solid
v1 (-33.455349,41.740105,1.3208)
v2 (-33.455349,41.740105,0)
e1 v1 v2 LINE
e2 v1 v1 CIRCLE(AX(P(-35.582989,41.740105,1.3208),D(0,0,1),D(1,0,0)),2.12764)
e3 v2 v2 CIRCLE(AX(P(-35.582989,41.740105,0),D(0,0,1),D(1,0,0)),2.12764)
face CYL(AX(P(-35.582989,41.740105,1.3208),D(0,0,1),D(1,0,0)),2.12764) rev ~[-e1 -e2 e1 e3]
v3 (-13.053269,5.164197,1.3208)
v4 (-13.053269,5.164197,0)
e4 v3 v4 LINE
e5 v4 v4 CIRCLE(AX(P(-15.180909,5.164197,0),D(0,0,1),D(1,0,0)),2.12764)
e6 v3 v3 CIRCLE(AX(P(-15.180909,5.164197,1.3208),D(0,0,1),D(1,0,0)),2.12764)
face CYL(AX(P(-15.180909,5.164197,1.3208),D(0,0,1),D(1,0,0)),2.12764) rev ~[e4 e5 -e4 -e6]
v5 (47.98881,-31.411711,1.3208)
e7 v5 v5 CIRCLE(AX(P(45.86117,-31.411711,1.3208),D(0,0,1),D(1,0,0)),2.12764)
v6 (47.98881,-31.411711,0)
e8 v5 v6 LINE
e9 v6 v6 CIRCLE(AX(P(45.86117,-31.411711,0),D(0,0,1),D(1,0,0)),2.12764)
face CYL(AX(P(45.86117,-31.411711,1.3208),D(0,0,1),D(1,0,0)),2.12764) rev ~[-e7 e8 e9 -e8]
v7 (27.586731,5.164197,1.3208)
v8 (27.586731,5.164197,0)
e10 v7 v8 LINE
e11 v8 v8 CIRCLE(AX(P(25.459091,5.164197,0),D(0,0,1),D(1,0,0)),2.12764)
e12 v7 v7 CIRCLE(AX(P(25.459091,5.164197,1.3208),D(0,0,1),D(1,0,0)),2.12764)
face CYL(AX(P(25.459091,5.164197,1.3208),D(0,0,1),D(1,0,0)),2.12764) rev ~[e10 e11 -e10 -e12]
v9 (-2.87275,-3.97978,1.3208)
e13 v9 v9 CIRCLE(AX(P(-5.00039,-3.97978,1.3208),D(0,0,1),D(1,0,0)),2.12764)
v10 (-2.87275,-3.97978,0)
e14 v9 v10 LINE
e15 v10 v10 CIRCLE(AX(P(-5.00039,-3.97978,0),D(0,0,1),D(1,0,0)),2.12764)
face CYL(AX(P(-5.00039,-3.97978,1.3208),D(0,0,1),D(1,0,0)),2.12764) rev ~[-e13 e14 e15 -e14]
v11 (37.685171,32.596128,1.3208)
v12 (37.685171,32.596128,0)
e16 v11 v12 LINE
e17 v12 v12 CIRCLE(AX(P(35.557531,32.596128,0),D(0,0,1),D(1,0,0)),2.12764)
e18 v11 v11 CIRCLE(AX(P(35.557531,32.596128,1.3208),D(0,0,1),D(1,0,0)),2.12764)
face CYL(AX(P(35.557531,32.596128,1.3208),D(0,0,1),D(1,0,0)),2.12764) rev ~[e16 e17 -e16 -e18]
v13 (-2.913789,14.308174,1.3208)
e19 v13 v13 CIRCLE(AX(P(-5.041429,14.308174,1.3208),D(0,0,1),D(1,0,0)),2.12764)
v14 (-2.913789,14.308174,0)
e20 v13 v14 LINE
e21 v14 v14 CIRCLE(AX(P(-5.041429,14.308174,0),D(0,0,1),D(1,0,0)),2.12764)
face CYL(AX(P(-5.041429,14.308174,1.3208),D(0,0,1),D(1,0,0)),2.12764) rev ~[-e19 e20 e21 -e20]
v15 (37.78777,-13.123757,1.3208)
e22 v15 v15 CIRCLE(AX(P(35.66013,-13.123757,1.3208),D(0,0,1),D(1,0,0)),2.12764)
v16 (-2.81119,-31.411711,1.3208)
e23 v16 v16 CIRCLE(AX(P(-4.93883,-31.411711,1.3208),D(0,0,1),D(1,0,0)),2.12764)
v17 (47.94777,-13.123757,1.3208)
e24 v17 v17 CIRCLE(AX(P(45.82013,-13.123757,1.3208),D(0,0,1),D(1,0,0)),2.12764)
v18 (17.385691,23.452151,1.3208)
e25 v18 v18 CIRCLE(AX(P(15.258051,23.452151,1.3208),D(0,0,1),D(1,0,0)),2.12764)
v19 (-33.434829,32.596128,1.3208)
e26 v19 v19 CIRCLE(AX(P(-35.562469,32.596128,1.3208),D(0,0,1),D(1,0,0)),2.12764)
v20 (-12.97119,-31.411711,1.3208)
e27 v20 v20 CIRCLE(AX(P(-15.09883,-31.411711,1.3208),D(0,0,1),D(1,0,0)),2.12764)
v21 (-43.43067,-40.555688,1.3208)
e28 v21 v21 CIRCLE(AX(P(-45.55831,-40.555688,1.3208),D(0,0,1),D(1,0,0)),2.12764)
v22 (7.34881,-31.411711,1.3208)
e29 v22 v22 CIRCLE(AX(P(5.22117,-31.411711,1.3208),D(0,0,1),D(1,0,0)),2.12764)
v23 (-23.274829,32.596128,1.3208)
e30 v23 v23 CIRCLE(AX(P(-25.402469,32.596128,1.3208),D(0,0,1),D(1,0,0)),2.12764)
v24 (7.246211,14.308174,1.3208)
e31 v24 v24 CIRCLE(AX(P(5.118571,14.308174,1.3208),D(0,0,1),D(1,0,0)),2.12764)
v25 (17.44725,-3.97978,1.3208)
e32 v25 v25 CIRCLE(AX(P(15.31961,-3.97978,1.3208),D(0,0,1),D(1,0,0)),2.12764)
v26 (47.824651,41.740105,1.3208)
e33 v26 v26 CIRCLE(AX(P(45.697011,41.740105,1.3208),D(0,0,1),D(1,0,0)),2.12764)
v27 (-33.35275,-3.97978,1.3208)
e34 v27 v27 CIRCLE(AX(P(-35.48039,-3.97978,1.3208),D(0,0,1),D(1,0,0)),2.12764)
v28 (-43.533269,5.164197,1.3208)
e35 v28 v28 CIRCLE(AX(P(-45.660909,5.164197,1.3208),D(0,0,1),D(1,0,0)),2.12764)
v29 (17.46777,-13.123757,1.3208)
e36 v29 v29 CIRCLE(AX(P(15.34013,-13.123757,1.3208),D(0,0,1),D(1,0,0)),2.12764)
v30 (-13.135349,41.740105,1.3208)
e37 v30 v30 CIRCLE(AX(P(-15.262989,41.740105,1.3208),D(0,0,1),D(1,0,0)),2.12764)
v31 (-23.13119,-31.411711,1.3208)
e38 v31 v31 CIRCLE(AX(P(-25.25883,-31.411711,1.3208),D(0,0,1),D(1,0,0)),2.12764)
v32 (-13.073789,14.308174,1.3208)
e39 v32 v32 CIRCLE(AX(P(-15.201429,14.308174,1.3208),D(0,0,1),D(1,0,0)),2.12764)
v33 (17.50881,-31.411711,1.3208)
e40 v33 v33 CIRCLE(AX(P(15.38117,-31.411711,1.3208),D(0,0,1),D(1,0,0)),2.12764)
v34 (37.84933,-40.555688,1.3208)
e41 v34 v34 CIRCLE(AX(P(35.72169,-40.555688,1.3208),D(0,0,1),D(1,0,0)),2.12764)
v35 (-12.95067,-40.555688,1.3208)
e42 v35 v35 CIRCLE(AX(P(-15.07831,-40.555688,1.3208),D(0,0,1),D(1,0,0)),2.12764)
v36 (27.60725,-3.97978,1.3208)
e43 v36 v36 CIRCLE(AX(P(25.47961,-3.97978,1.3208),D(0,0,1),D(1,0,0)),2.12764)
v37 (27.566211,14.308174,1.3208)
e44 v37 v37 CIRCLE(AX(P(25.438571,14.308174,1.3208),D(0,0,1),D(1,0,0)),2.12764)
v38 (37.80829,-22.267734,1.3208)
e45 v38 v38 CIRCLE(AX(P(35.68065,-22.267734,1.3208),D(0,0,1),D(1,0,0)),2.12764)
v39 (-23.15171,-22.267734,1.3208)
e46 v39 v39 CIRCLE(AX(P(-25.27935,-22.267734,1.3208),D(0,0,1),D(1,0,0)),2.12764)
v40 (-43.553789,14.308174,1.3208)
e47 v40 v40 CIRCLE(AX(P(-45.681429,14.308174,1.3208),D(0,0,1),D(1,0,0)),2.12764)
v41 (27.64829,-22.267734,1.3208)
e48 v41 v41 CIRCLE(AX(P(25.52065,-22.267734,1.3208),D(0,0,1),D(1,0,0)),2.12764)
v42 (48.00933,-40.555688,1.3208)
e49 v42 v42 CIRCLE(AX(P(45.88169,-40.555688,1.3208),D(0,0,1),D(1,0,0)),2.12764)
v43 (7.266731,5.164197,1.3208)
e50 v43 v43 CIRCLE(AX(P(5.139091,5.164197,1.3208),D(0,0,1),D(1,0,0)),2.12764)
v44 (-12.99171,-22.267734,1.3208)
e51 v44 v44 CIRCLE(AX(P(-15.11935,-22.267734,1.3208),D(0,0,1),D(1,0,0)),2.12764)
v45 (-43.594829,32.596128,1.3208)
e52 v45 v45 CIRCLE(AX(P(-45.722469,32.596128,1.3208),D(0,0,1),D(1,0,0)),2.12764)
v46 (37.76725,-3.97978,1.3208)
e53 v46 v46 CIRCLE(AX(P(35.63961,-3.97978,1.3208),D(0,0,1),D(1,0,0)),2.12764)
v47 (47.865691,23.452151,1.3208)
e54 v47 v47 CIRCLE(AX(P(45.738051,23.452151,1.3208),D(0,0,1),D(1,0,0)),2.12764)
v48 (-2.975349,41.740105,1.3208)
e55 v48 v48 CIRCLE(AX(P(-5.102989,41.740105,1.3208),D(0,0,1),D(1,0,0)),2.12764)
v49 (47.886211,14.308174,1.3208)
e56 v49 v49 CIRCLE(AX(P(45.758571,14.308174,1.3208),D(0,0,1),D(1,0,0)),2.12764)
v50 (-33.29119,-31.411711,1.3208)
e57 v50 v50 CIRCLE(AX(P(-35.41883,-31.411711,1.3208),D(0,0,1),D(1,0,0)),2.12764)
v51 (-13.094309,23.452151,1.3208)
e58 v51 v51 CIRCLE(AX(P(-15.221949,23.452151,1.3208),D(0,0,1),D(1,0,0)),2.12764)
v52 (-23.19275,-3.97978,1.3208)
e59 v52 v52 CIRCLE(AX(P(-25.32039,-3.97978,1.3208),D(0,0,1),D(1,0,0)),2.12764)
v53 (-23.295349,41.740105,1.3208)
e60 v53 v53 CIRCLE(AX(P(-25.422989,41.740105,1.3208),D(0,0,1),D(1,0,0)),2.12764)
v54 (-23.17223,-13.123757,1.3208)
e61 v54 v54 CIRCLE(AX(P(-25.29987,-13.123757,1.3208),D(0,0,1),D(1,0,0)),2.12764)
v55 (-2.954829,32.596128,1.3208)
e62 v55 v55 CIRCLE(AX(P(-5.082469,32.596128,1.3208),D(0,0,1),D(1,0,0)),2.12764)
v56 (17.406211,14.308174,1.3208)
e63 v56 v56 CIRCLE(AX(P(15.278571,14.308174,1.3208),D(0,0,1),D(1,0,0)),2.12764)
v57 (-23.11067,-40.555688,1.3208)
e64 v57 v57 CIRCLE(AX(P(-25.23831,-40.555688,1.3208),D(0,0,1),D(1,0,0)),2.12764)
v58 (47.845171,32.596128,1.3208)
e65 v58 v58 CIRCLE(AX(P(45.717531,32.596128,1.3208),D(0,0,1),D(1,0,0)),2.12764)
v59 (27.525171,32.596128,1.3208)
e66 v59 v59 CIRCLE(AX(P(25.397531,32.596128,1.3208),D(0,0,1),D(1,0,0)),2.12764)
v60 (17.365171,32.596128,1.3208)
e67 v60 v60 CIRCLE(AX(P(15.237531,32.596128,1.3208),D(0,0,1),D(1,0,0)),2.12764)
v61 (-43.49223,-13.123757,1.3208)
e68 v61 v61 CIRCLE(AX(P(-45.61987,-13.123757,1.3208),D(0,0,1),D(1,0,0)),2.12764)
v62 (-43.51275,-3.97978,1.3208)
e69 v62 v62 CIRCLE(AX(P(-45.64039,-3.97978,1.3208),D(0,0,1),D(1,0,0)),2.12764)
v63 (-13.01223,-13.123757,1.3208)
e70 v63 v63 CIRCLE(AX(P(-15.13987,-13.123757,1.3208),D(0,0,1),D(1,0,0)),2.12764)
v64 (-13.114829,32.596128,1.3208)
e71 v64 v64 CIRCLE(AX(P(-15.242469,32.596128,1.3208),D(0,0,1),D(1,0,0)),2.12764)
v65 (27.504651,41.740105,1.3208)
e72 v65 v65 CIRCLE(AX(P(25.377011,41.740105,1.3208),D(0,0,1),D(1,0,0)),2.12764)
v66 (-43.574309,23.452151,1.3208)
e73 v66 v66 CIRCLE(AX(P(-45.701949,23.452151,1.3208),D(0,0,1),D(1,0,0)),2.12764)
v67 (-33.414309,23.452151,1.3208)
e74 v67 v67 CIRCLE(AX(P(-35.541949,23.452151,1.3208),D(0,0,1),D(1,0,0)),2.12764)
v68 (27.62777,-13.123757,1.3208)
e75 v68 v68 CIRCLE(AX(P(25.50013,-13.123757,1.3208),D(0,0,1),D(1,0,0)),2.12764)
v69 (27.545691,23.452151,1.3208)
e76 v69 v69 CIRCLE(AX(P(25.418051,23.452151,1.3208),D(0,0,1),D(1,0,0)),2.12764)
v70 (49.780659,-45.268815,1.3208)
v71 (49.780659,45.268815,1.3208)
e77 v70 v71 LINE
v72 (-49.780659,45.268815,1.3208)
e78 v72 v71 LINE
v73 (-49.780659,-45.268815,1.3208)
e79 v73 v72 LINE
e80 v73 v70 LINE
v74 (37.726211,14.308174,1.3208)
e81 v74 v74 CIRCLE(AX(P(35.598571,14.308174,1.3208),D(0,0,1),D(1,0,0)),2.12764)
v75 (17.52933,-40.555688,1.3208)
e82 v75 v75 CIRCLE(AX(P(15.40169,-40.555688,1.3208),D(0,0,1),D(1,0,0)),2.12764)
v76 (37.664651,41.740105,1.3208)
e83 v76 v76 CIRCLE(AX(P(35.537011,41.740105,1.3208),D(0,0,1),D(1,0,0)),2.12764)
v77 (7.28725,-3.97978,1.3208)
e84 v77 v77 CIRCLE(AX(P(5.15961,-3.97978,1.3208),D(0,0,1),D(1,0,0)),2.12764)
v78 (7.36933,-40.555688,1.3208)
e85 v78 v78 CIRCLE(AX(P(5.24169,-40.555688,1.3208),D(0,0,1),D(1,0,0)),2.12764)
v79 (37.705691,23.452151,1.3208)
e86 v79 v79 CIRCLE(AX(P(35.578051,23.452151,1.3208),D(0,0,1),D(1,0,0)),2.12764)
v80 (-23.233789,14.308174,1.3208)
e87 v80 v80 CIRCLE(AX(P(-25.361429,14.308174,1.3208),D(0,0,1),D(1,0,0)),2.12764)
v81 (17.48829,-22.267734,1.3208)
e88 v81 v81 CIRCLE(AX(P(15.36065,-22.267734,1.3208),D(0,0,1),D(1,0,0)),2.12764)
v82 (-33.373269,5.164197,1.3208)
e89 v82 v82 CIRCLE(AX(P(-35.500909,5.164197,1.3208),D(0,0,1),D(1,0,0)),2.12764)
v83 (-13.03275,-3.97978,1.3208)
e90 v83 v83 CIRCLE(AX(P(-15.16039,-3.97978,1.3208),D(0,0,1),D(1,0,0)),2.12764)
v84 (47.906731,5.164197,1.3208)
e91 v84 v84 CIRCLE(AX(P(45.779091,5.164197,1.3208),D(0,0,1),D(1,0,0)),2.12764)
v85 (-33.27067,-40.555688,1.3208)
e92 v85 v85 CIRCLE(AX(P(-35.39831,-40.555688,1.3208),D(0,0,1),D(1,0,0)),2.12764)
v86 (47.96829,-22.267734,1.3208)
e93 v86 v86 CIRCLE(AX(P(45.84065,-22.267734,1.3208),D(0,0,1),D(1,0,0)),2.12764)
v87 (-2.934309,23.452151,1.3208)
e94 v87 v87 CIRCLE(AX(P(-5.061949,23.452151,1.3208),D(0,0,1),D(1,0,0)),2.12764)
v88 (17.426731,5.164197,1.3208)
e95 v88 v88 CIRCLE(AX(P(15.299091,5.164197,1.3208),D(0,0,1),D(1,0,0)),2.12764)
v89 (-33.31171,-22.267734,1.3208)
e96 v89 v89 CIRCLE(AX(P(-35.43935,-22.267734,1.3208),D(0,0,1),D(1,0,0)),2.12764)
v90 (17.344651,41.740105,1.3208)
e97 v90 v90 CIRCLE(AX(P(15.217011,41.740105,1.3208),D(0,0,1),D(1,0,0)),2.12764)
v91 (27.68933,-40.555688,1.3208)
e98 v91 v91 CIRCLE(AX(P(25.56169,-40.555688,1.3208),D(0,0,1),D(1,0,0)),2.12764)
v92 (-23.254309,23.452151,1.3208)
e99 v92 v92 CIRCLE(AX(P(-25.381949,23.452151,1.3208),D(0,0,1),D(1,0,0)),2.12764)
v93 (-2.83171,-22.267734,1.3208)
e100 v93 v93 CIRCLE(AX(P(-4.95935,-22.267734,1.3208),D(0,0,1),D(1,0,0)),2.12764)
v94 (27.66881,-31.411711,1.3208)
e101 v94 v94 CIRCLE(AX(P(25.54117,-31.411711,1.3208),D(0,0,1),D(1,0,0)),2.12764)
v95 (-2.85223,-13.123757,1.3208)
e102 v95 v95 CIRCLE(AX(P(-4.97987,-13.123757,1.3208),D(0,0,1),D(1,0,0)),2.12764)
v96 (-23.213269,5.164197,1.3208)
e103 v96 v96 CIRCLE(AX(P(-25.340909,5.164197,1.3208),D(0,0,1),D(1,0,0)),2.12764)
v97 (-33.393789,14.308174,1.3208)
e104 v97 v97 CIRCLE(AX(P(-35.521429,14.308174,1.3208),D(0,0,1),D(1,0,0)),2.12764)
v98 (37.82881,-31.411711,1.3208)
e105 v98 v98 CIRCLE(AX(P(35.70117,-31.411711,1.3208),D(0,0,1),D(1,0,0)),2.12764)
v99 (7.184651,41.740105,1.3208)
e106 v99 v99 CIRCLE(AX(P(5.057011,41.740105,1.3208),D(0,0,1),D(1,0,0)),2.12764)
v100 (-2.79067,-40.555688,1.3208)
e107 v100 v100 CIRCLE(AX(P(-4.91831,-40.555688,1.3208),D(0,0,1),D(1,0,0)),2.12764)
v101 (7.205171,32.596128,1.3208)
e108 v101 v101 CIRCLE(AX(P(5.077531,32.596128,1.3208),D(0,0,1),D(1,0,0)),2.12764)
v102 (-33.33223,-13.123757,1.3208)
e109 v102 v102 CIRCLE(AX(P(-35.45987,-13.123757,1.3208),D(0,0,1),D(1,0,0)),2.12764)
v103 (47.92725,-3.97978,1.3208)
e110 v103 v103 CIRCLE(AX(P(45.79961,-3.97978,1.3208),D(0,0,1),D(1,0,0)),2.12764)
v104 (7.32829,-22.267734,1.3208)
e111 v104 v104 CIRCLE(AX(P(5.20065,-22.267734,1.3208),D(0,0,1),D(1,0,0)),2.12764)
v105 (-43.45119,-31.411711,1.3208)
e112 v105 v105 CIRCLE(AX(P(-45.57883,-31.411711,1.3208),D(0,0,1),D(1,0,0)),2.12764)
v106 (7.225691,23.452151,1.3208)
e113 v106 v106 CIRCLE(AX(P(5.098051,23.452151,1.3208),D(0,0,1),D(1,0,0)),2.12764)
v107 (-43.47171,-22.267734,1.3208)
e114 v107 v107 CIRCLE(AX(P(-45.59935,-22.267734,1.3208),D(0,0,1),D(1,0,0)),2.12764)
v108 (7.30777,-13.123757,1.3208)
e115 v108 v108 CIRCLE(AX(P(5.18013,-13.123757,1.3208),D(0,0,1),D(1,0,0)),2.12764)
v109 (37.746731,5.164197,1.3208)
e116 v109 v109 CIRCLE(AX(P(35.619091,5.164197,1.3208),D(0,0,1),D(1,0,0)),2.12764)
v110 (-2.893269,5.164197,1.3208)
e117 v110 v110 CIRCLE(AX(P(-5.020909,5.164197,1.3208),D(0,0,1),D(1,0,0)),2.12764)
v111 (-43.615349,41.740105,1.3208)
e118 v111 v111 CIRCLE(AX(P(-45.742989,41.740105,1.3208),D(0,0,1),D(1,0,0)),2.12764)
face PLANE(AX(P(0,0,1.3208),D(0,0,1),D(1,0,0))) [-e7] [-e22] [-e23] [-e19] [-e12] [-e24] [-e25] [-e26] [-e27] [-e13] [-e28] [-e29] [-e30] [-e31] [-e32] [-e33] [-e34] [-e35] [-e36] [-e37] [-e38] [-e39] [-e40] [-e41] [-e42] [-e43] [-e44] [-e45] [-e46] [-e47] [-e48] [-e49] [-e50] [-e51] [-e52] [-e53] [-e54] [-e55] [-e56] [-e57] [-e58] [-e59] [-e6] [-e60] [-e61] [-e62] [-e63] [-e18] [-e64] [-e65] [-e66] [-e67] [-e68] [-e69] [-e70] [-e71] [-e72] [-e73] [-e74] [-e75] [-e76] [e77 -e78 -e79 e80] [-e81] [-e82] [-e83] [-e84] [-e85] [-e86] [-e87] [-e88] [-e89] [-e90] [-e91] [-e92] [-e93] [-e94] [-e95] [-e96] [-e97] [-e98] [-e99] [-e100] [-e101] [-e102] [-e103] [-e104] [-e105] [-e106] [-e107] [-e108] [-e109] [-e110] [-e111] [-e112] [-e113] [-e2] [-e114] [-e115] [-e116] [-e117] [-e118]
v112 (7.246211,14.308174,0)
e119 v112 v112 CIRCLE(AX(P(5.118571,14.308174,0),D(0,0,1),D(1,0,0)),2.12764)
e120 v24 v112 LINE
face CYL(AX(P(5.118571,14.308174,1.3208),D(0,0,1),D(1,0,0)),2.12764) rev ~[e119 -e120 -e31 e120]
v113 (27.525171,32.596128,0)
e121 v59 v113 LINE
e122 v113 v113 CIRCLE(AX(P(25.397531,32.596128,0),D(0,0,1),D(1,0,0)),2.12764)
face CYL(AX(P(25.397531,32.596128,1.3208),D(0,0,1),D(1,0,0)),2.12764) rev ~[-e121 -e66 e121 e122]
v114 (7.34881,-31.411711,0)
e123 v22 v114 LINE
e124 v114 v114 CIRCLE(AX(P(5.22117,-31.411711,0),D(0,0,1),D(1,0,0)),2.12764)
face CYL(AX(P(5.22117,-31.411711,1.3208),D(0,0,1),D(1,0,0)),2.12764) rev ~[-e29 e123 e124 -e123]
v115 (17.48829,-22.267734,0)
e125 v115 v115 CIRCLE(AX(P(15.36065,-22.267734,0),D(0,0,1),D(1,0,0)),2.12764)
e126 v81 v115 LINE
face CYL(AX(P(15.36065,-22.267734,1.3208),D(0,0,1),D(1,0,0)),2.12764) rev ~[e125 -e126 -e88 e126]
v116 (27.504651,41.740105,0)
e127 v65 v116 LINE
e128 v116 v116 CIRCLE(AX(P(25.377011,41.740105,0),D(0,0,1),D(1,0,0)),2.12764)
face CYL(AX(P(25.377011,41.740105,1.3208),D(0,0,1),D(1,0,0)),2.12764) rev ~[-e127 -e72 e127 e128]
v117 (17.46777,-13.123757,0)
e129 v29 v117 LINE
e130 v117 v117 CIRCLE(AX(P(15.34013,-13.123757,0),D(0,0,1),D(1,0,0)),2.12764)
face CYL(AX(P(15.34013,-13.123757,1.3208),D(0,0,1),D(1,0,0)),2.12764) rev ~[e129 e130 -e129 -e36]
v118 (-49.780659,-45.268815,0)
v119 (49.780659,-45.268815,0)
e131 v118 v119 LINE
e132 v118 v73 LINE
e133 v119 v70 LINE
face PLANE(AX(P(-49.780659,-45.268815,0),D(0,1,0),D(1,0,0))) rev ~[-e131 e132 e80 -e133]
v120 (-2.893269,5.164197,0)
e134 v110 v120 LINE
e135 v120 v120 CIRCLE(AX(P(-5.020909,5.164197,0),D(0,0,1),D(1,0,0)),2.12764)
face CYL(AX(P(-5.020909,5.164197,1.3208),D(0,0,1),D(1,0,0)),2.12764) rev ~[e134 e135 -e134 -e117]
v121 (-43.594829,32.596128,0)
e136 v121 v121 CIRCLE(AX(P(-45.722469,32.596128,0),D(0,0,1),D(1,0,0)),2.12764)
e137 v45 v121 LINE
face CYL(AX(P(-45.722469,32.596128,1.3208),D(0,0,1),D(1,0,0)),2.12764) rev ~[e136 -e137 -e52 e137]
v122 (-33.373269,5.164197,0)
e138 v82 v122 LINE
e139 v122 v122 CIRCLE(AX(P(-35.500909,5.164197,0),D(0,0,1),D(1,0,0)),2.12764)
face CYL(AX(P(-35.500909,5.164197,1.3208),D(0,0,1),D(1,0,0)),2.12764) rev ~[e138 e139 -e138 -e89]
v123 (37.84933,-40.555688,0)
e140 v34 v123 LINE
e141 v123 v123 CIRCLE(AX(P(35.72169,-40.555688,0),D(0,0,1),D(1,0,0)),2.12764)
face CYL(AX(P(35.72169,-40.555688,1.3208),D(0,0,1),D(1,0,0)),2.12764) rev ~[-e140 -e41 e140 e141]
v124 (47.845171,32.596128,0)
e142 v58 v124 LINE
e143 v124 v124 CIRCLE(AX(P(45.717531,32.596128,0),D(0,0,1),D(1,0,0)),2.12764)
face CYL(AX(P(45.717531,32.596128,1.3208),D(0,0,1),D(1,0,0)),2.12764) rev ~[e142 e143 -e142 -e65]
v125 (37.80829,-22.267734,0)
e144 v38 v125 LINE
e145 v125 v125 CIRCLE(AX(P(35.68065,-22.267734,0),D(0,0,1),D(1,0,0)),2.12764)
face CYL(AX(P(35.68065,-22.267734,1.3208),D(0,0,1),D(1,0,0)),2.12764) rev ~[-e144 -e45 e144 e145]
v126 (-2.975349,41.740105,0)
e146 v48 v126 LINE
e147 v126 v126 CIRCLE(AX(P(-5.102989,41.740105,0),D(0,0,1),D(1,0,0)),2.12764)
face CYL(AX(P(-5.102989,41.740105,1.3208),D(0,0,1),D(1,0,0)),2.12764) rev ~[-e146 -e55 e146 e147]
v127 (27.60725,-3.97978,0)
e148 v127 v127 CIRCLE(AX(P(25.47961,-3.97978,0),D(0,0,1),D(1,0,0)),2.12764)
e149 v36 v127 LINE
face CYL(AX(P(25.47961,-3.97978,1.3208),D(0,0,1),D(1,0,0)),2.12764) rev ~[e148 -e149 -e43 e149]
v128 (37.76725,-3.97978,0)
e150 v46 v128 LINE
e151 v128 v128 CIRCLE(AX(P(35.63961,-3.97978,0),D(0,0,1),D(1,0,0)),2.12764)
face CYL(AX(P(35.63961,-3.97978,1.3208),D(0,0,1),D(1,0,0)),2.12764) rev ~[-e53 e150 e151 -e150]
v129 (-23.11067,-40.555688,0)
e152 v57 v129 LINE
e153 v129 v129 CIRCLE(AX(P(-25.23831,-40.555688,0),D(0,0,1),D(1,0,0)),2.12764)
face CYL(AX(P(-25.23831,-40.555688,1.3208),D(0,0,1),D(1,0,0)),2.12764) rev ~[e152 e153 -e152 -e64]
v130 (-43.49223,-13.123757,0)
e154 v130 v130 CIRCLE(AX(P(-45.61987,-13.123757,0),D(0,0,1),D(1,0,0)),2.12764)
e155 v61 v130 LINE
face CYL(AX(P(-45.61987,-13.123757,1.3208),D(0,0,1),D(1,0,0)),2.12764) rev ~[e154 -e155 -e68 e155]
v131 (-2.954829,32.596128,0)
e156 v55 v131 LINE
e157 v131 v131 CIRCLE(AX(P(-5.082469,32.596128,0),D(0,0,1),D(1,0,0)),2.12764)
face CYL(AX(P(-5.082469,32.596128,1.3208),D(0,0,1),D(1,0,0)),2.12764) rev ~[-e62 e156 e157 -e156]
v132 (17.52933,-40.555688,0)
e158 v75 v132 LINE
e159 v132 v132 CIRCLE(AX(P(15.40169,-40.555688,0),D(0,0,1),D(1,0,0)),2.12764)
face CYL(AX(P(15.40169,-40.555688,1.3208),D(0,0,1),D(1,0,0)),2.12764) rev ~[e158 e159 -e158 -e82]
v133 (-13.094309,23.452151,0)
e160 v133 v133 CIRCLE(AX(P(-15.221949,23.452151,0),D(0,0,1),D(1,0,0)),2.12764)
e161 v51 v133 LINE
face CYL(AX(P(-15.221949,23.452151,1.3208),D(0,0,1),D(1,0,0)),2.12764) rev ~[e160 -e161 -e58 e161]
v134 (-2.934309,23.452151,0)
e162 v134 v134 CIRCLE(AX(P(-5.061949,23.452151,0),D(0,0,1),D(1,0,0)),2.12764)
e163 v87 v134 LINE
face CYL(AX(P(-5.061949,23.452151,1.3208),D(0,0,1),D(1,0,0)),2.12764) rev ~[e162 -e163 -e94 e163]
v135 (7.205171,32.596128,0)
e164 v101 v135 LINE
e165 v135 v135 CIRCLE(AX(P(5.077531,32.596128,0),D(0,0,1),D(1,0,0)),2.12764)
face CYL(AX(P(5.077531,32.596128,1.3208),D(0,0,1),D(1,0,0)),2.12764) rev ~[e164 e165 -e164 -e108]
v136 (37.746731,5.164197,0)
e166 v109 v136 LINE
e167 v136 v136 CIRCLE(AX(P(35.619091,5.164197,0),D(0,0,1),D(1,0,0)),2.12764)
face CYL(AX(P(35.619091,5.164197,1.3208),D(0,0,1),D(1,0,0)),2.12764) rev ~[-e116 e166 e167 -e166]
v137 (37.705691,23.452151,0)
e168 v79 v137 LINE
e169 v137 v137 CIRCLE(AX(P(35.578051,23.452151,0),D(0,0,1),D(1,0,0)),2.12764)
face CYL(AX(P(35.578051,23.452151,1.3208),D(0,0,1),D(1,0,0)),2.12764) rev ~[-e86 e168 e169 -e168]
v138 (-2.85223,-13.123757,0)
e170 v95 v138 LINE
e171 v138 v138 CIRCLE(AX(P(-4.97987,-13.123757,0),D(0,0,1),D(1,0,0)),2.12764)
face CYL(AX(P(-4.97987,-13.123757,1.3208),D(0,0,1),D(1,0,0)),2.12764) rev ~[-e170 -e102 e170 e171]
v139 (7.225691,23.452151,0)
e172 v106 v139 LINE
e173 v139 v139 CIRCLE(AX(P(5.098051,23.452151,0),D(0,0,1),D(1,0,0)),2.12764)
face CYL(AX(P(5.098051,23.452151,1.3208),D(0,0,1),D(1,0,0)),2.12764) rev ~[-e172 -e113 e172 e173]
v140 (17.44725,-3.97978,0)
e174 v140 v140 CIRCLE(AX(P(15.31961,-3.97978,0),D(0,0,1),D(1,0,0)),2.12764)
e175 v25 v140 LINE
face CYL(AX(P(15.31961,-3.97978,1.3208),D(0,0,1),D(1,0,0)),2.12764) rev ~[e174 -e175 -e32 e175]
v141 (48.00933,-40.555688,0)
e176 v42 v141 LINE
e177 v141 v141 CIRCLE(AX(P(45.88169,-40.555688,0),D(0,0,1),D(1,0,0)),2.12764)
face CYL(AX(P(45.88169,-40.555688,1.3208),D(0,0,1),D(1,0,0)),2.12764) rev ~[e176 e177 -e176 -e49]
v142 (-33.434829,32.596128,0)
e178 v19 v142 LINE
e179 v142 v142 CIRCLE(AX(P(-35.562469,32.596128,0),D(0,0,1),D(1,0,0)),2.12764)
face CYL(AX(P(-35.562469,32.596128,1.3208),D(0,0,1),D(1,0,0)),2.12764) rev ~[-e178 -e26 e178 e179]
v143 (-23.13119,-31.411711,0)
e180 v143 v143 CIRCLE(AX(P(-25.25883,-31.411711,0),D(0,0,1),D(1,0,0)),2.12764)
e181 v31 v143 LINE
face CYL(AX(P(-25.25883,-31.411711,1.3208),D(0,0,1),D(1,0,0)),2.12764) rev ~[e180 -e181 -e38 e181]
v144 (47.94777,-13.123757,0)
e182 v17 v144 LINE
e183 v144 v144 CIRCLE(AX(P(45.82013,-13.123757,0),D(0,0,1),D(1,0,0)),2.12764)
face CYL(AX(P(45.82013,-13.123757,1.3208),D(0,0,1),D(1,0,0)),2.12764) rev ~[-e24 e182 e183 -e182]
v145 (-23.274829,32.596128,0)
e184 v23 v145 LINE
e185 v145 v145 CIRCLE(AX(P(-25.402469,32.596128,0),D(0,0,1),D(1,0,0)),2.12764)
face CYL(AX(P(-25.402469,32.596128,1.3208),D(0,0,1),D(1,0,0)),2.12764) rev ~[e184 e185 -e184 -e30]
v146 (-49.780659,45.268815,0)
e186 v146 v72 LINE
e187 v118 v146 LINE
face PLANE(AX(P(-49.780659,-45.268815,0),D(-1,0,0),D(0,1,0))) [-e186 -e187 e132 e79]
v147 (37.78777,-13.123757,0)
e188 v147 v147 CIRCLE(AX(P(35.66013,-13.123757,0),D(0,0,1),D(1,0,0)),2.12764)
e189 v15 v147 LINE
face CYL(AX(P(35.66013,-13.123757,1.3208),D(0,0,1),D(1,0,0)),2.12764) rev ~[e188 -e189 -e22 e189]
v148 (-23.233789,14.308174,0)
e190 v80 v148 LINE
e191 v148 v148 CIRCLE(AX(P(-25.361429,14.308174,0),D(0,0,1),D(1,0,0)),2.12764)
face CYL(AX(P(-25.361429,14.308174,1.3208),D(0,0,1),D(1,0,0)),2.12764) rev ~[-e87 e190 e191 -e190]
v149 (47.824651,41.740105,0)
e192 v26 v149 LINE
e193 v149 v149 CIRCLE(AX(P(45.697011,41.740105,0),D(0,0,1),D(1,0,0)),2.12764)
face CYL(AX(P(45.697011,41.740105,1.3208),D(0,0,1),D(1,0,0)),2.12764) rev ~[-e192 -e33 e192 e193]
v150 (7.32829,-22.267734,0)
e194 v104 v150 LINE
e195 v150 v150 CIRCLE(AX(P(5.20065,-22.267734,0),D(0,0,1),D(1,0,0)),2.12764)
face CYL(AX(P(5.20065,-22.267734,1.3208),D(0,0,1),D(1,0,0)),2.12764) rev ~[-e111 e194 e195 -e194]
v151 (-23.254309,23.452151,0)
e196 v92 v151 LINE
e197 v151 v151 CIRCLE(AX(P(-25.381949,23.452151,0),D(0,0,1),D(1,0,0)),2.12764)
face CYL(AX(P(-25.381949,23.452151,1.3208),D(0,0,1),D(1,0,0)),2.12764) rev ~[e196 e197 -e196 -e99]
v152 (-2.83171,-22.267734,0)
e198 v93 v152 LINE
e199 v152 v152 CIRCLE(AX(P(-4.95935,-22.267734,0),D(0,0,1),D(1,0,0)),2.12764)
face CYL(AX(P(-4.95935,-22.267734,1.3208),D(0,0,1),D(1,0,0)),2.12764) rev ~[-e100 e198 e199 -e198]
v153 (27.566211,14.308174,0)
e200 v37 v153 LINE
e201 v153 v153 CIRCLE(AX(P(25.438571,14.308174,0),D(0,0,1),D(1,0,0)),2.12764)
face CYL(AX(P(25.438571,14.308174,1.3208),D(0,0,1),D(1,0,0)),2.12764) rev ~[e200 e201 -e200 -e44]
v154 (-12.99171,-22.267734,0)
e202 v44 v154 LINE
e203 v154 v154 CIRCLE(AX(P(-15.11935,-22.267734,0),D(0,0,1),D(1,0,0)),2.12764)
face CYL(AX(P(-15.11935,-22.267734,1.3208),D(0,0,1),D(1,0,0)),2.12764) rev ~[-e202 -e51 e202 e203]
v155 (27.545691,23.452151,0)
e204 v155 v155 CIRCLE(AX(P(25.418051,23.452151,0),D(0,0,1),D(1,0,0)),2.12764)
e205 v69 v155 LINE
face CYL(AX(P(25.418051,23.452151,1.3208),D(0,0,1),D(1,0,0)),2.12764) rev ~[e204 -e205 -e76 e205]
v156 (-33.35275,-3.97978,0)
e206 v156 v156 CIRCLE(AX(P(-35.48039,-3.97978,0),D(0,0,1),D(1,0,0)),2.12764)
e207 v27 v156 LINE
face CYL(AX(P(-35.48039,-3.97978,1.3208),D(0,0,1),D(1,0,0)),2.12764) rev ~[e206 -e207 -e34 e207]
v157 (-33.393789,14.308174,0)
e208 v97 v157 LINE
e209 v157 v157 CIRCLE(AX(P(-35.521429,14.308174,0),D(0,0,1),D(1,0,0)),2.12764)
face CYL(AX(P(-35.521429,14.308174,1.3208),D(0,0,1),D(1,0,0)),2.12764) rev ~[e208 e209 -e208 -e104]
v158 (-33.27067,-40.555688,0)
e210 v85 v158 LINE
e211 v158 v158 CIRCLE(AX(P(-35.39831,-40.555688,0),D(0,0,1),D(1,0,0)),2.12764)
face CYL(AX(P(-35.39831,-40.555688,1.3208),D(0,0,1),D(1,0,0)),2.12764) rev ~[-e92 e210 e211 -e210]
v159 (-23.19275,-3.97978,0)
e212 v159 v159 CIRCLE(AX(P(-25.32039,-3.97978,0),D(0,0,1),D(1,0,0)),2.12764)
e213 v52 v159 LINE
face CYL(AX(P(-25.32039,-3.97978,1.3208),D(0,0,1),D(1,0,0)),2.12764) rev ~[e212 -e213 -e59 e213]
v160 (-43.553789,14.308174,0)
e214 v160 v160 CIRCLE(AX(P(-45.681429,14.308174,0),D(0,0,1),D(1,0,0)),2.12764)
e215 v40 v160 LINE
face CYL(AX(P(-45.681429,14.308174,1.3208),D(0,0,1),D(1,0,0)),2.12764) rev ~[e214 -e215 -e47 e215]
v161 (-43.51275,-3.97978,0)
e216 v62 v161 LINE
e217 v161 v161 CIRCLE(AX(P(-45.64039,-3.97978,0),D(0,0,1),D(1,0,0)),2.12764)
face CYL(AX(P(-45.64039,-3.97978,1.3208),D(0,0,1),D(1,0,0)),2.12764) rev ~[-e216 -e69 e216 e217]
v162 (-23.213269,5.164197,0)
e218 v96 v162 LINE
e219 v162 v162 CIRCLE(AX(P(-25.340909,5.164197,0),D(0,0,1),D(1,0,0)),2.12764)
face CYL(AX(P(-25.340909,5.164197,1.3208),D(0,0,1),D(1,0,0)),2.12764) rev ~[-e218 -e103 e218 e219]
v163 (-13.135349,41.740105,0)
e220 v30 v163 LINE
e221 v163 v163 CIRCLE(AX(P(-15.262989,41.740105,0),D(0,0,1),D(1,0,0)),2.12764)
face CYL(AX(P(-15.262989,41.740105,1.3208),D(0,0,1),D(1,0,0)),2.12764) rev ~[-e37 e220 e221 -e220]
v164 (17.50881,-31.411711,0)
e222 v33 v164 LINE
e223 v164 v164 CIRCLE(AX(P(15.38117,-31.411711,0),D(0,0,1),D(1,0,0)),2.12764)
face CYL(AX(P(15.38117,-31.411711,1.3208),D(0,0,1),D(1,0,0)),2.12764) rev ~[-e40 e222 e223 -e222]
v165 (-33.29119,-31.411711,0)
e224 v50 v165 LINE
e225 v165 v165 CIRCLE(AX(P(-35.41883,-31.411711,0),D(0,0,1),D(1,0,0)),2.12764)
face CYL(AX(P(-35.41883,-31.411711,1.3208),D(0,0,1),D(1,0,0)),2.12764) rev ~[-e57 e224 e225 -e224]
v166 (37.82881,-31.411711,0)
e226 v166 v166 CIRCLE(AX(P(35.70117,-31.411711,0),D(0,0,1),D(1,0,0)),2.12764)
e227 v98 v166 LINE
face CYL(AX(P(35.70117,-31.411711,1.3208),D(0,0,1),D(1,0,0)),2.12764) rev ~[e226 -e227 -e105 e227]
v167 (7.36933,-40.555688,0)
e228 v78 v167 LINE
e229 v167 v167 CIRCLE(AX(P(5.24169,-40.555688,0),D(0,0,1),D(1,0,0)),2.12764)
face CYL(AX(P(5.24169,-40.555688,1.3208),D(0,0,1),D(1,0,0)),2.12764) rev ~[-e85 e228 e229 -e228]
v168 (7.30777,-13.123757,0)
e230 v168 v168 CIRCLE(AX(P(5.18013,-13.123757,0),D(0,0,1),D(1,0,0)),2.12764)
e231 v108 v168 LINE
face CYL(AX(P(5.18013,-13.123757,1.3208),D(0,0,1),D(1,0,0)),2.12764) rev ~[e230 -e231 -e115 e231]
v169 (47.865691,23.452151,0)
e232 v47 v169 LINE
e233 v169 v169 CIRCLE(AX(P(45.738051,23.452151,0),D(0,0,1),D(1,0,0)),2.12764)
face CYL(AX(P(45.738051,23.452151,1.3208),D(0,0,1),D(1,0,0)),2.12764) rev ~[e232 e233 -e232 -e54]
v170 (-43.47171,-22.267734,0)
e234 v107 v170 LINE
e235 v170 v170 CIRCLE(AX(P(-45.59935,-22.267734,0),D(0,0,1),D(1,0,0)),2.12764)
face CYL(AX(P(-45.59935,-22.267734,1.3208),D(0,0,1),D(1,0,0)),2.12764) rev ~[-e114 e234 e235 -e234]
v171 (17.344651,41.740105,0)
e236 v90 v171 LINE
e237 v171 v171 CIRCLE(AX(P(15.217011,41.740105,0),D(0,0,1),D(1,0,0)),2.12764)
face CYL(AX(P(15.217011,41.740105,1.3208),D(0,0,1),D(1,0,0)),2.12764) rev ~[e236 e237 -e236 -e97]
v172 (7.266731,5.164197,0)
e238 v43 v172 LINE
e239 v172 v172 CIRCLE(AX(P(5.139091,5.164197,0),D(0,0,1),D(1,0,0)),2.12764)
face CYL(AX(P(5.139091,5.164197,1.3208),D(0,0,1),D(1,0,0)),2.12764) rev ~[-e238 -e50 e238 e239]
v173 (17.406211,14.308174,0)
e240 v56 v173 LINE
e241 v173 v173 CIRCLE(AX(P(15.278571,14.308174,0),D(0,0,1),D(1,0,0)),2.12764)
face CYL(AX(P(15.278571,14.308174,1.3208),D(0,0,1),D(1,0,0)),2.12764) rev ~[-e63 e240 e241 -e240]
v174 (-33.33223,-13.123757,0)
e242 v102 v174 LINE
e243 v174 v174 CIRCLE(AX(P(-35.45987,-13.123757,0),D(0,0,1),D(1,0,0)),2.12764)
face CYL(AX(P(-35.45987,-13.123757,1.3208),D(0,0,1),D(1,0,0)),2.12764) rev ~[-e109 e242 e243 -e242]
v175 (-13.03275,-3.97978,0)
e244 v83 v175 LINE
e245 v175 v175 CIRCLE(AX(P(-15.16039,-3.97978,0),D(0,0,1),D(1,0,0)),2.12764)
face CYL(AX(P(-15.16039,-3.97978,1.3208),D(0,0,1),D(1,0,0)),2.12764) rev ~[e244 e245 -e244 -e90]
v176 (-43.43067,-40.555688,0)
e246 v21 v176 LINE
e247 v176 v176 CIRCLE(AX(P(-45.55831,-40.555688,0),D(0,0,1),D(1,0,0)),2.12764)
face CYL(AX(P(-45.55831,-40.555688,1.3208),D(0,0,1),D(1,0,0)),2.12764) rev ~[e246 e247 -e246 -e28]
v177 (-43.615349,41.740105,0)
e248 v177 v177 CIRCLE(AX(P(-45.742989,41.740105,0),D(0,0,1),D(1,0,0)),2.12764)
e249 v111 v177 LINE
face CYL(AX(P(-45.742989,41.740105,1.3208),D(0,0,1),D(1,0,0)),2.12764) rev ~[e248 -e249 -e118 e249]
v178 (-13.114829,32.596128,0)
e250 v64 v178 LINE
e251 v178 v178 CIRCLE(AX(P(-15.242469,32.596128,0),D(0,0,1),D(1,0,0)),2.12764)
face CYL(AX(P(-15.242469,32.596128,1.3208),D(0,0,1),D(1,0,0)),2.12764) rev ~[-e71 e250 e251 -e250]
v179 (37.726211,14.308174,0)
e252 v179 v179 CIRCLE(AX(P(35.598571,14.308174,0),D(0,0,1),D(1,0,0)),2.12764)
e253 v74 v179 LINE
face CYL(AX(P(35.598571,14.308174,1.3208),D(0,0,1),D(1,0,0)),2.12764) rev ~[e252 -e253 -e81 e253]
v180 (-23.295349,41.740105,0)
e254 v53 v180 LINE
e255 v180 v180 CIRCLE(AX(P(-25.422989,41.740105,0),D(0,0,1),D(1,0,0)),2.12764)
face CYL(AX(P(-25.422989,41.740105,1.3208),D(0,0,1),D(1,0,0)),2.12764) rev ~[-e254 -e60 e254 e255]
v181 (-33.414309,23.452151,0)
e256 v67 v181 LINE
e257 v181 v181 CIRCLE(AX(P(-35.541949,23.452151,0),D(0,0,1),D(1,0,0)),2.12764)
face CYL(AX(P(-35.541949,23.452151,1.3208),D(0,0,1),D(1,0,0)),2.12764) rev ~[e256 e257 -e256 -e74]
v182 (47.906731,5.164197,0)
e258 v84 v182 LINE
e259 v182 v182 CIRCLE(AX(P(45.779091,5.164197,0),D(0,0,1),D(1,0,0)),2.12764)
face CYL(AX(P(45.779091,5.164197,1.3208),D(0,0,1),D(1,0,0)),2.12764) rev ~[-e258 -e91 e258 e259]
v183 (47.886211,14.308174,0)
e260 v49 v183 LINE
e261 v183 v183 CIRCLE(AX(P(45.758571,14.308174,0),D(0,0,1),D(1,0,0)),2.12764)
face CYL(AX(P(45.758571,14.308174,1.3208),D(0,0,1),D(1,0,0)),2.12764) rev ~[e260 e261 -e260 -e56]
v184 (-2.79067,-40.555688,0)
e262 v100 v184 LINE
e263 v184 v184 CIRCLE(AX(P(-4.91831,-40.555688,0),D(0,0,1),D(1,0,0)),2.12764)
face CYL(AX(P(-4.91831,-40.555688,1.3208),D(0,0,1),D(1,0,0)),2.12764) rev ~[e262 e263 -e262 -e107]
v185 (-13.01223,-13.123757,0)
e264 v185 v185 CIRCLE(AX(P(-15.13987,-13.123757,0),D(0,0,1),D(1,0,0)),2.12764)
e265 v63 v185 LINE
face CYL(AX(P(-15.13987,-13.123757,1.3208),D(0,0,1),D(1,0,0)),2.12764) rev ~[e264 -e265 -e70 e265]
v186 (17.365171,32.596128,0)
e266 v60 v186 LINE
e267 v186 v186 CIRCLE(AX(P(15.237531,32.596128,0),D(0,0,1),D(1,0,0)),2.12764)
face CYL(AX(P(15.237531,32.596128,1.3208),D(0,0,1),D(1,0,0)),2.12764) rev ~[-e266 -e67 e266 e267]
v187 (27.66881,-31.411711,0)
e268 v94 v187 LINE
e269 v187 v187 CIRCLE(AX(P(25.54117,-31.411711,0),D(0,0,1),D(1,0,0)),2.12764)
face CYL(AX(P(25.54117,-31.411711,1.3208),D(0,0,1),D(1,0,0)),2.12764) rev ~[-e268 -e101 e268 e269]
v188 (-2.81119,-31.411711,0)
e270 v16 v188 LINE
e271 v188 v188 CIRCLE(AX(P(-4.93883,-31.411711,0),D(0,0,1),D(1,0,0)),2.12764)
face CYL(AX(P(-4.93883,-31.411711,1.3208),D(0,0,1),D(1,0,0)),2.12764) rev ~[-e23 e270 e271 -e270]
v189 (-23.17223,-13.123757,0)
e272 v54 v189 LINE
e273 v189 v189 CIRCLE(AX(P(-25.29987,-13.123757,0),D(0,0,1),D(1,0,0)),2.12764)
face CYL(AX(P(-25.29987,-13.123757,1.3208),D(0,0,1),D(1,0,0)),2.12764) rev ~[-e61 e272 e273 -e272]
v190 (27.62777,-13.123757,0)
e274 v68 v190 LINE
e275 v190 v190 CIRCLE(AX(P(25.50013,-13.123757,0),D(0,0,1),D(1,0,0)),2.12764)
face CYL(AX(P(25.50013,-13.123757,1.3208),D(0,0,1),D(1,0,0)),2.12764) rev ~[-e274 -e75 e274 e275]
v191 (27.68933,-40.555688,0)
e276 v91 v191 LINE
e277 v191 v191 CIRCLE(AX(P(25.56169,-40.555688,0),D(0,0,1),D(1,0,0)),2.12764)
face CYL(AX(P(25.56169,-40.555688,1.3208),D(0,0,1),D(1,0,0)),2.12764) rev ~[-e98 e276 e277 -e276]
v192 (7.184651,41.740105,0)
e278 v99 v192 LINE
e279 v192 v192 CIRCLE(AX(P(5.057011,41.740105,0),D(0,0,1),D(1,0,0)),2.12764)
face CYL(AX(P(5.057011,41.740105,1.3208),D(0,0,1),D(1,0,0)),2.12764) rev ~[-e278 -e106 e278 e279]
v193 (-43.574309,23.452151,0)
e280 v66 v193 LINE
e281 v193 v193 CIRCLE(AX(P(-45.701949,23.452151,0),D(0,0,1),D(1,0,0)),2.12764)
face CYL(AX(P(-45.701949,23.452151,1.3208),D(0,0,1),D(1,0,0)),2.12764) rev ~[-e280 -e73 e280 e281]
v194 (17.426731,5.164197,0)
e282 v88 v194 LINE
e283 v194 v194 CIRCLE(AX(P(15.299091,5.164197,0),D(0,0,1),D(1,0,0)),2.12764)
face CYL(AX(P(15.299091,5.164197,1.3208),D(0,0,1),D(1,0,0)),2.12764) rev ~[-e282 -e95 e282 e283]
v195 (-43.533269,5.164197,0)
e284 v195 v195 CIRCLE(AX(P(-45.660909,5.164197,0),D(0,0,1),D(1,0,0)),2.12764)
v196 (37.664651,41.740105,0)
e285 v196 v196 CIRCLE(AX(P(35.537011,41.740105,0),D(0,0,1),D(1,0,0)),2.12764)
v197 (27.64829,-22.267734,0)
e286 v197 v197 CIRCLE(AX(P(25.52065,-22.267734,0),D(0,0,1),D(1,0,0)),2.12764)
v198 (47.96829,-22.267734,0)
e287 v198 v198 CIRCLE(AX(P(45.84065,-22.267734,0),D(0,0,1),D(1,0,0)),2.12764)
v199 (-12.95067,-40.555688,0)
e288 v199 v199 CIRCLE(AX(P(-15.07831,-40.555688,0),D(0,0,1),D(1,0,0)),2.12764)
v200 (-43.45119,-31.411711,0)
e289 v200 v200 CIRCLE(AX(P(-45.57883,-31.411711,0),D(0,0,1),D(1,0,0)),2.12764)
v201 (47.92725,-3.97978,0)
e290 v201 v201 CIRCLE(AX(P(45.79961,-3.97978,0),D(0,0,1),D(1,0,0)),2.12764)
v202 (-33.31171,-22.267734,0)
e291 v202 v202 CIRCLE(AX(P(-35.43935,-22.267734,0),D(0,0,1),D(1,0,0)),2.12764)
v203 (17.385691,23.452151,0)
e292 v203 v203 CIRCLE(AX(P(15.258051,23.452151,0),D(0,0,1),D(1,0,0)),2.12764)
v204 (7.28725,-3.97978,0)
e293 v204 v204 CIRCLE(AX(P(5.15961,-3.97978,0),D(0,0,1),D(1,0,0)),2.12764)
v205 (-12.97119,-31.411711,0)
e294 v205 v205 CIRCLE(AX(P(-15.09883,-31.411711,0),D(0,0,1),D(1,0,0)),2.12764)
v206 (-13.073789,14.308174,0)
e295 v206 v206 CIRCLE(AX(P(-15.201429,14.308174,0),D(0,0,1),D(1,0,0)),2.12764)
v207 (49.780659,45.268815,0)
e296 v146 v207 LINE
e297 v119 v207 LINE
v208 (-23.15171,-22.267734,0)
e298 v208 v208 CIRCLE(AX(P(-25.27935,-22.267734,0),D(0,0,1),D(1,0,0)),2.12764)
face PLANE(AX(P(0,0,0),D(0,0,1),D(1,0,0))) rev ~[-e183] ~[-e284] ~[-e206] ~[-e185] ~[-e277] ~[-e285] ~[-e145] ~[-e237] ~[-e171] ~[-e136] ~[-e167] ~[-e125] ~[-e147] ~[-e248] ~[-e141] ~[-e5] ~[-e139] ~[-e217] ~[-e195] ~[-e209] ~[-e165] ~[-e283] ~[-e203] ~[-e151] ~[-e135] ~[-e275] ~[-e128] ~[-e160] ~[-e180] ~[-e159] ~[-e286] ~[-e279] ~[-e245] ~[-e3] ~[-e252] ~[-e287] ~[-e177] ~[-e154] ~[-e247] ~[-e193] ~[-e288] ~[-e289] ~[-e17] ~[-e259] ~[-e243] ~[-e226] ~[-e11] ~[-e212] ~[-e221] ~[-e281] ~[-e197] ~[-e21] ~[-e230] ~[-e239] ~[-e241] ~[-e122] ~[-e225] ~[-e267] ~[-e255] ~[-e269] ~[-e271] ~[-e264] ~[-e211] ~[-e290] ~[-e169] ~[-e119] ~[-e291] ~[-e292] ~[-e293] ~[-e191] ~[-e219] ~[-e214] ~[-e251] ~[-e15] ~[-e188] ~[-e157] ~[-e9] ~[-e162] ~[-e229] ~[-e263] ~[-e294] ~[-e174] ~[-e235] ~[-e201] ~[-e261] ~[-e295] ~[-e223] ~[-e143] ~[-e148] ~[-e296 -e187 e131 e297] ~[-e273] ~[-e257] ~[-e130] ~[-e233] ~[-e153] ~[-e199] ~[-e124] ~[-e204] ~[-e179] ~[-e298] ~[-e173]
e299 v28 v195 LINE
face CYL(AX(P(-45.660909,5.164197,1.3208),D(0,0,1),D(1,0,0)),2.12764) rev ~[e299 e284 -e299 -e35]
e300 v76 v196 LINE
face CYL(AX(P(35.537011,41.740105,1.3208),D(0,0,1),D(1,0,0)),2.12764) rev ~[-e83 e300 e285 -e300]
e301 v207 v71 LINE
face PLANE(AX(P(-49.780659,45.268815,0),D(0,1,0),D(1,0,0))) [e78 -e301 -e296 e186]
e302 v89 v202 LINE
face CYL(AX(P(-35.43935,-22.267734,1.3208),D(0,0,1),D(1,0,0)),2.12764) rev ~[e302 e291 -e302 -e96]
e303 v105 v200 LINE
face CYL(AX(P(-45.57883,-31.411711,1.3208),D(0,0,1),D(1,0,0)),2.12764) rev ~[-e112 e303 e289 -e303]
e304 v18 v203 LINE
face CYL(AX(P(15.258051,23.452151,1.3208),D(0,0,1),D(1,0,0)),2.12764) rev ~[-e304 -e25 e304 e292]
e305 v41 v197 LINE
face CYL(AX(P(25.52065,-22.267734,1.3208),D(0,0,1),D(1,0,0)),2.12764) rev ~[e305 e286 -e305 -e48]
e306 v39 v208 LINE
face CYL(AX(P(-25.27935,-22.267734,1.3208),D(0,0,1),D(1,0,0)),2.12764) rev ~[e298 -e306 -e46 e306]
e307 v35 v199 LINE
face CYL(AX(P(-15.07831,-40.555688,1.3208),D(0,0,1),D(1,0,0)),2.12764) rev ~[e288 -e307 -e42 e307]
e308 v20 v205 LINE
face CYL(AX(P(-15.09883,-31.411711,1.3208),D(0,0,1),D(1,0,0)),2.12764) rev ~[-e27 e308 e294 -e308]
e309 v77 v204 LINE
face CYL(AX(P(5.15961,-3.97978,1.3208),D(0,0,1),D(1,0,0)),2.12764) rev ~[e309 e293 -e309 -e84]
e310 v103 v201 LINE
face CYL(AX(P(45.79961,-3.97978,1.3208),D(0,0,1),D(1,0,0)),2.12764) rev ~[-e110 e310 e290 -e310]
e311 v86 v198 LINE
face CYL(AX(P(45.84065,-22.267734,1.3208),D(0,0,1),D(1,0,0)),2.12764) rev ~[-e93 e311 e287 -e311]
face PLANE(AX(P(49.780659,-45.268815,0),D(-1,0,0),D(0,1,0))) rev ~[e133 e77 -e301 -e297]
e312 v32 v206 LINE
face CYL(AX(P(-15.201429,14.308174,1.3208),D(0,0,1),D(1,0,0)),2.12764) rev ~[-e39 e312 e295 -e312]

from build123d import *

# Parameters (mm, degrees)
F0_W     = 99.561318
F0_H     = 90.53763
F1_DEPTH = 1.3208
F2_R     = 2.12764
F3_DEPTH = 25.4


with BuildPart() as f1:
    # F0 (on Top) → F1 (new body)
    with BuildSketch(Plane.XY):
        Rectangle(F0_W, F0_H)
    extrude(amount=F1_DEPTH)

    # F2 (on face) → F3 (cut)
    with BuildSketch(Plane.XY.offset(1.3208)):
        with Locations((-45.742989, 41.740105)):
            Circle(F2_R)
        with Locations((-35.582989, 41.740105)):
            Circle(F2_R)
        with Locations((-25.422989, 41.740105)):
            Circle(F2_R)
        with Locations((-15.262989, 41.740105)):
            Circle(F2_R)
        with Locations((-5.102989, 41.740105)):
            Circle(F2_R)
        with Locations((5.057011, 41.740105)):
            Circle(F2_R)
        with Locations((15.217011, 41.740105)):
            Circle(F2_R)
        with Locations((25.377011, 41.740105)):
            Circle(F2_R)
        with Locations((35.537011, 41.740105)):
            Circle(F2_R)
        with Locations((45.697011, 41.740105)):
            Circle(F2_R)
        with Locations((-45.722469, 32.596128)):
            Circle(F2_R)
        with Locations((-25.402469, 32.596128)):
            Circle(F2_R)
        with Locations((45.717531, 32.596128)):
            Circle(F2_R)
        with Locations((15.237531, 32.596128)):
            Circle(F2_R)
        with Locations((-5.082469, 32.596128)):
            Circle(F2_R)
        with Locations((35.557531, 32.596128)):
            Circle(F2_R)
        with Locations((-15.242469, 32.596128)):
            Circle(F2_R)
        with Locations((5.077531, 32.596128)):
            Circle(F2_R)
        with Locations((25.397531, 32.596128)):
            Circle(F2_R)
        with Locations((-35.562469, 32.596128)):
            Circle(F2_R)
        with Locations((-45.701949, 23.452151)):
            Circle(F2_R)
        with Locations((-25.381949, 23.452151)):
            Circle(F2_R)
        with Locations((45.738051, 23.452151)):
            Circle(F2_R)
        with Locations((15.258051, 23.452151)):
            Circle(F2_R)
        with Locations((-5.061949, 23.452151)):
            Circle(F2_R)
        with Locations((35.578051, 23.452151)):
            Circle(F2_R)
        with Locations((-15.221949, 23.452151)):
            Circle(F2_R)
        with Locations((5.098051, 23.452151)):
            Circle(F2_R)
        with Locations((25.418051, 23.452151)):
            Circle(F2_R)
        with Locations((-35.541949, 23.452151)):
            Circle(F2_R)
        with Locations((-45.681429, 14.308174)):
            Circle(F2_R)
        with Locations((-25.361429, 14.308174)):
            Circle(F2_R)
        with Locations((45.758571, 14.308174)):
            Circle(F2_R)
        with Locations((15.278571, 14.308174)):
            Circle(F2_R)
        with Locations((-5.041429, 14.308174)):
            Circle(F2_R)
        with Locations((35.598571, 14.308174)):
            Circle(F2_R)
        with Locations((-15.201429, 14.308174)):
            Circle(F2_R)
        with Locations((5.118571, 14.308174)):
            Circle(F2_R)
        with Locations((25.438571, 14.308174)):
            Circle(F2_R)
        with Locations((-35.521429, 14.308174)):
            Circle(F2_R)
        with Locations((-45.660909, 5.164197)):
            Circle(F2_R)
        with Locations((-25.340909, 5.164197)):
            Circle(F2_R)
        with Locations((45.779091, 5.164197)):
            Circle(F2_R)
        with Locations((15.299091, 5.164197)):
            Circle(F2_R)
        with Locations((-5.020909, 5.164197)):
            Circle(F2_R)
        with Locations((35.619091, 5.164197)):
            Circle(F2_R)
        with Locations((-15.180909, 5.164197)):
            Circle(F2_R)
        with Locations((5.139091, 5.164197)):
            Circle(F2_R)
        with Locations((25.459091, 5.164197)):
            Circle(F2_R)
        with Locations((-35.500909, 5.164197)):
            Circle(F2_R)
        with Locations((-45.64039, -3.97978)):
            Circle(F2_R)
        with Locations((-25.32039, -3.97978)):
            Circle(F2_R)
        with Locations((45.79961, -3.97978)):
            Circle(F2_R)
        with Locations((15.31961, -3.97978)):
            Circle(F2_R)
        with Locations((-5.00039, -3.97978)):
            Circle(F2_R)
        with Locations((35.63961, -3.97978)):
            Circle(F2_R)
        with Locations((-15.16039, -3.97978)):
            Circle(F2_R)
        with Locations((5.15961, -3.97978)):
            Circle(F2_R)
        with Locations((25.47961, -3.97978)):
            Circle(F2_R)
        with Locations((-35.48039, -3.97978)):
            Circle(F2_R)
        with Locations((-45.61987, -13.123757)):
            Circle(F2_R)
        with Locations((-25.29987, -13.123757)):
            Circle(F2_R)
        with Locations((45.82013, -13.123757)):
            Circle(F2_R)
        with Locations((15.34013, -13.123757)):
            Circle(F2_R)
        with Locations((-4.97987, -13.123757)):
            Circle(F2_R)
        with Locations((35.66013, -13.123757)):
            Circle(F2_R)
        with Locations((-15.13987, -13.123757)):
            Circle(F2_R)
        with Locations((5.18013, -13.123757)):
            Circle(F2_R)
        with Locations((25.50013, -13.123757)):
            Circle(F2_R)
        with Locations((-35.45987, -13.123757)):
            Circle(F2_R)
        with Locations((-45.59935, -22.267734)):
            Circle(F2_R)
        with Locations((-25.27935, -22.267734)):
            Circle(F2_R)
        with Locations((45.84065, -22.267734)):
            Circle(F2_R)
        with Locations((15.36065, -22.267734)):
            Circle(F2_R)
        with Locations((-4.95935, -22.267734)):
            Circle(F2_R)
        with Locations((35.68065, -22.267734)):
            Circle(F2_R)
        with Locations((-15.11935, -22.267734)):
            Circle(F2_R)
        with Locations((5.20065, -22.267734)):
            Circle(F2_R)
        with Locations((25.52065, -22.267734)):
            Circle(F2_R)
        with Locations((-35.43935, -22.267734)):
            Circle(F2_R)
        with Locations((-45.57883, -31.411711)):
            Circle(F2_R)
        with Locations((-25.25883, -31.411711)):
            Circle(F2_R)
        with Locations((45.86117, -31.411711)):
            Circle(F2_R)
        with Locations((15.38117, -31.411711)):
            Circle(F2_R)
        with Locations((-4.93883, -31.411711)):
            Circle(F2_R)
        with Locations((35.70117, -31.411711)):
            Circle(F2_R)
        with Locations((-15.09883, -31.411711)):
            Circle(F2_R)
        with Locations((5.22117, -31.411711)):
            Circle(F2_R)
        with Locations((25.54117, -31.411711)):
            Circle(F2_R)
        with Locations((-35.41883, -31.411711)):
            Circle(F2_R)
        with Locations((-45.55831, -40.555688)):
            Circle(F2_R)
        with Locations((-25.23831, -40.555688)):
            Circle(F2_R)
        with Locations((45.88169, -40.555688)):
            Circle(F2_R)
        with Locations((15.40169, -40.555688)):
            Circle(F2_R)
        with Locations((-4.91831, -40.555688)):
            Circle(F2_R)
        with Locations((35.72169, -40.555688)):
            Circle(F2_R)
        with Locations((-15.07831, -40.555688)):
            Circle(F2_R)
        with Locations((5.24169, -40.555688)):
            Circle(F2_R)
        with Locations((25.56169, -40.555688)):
            Circle(F2_R)
        with Locations((-35.39831, -40.555688)):
            Circle(F2_R)
    extrude(amount=-F3_DEPTH, mode=Mode.SUBTRACT)


solid = f1.part
